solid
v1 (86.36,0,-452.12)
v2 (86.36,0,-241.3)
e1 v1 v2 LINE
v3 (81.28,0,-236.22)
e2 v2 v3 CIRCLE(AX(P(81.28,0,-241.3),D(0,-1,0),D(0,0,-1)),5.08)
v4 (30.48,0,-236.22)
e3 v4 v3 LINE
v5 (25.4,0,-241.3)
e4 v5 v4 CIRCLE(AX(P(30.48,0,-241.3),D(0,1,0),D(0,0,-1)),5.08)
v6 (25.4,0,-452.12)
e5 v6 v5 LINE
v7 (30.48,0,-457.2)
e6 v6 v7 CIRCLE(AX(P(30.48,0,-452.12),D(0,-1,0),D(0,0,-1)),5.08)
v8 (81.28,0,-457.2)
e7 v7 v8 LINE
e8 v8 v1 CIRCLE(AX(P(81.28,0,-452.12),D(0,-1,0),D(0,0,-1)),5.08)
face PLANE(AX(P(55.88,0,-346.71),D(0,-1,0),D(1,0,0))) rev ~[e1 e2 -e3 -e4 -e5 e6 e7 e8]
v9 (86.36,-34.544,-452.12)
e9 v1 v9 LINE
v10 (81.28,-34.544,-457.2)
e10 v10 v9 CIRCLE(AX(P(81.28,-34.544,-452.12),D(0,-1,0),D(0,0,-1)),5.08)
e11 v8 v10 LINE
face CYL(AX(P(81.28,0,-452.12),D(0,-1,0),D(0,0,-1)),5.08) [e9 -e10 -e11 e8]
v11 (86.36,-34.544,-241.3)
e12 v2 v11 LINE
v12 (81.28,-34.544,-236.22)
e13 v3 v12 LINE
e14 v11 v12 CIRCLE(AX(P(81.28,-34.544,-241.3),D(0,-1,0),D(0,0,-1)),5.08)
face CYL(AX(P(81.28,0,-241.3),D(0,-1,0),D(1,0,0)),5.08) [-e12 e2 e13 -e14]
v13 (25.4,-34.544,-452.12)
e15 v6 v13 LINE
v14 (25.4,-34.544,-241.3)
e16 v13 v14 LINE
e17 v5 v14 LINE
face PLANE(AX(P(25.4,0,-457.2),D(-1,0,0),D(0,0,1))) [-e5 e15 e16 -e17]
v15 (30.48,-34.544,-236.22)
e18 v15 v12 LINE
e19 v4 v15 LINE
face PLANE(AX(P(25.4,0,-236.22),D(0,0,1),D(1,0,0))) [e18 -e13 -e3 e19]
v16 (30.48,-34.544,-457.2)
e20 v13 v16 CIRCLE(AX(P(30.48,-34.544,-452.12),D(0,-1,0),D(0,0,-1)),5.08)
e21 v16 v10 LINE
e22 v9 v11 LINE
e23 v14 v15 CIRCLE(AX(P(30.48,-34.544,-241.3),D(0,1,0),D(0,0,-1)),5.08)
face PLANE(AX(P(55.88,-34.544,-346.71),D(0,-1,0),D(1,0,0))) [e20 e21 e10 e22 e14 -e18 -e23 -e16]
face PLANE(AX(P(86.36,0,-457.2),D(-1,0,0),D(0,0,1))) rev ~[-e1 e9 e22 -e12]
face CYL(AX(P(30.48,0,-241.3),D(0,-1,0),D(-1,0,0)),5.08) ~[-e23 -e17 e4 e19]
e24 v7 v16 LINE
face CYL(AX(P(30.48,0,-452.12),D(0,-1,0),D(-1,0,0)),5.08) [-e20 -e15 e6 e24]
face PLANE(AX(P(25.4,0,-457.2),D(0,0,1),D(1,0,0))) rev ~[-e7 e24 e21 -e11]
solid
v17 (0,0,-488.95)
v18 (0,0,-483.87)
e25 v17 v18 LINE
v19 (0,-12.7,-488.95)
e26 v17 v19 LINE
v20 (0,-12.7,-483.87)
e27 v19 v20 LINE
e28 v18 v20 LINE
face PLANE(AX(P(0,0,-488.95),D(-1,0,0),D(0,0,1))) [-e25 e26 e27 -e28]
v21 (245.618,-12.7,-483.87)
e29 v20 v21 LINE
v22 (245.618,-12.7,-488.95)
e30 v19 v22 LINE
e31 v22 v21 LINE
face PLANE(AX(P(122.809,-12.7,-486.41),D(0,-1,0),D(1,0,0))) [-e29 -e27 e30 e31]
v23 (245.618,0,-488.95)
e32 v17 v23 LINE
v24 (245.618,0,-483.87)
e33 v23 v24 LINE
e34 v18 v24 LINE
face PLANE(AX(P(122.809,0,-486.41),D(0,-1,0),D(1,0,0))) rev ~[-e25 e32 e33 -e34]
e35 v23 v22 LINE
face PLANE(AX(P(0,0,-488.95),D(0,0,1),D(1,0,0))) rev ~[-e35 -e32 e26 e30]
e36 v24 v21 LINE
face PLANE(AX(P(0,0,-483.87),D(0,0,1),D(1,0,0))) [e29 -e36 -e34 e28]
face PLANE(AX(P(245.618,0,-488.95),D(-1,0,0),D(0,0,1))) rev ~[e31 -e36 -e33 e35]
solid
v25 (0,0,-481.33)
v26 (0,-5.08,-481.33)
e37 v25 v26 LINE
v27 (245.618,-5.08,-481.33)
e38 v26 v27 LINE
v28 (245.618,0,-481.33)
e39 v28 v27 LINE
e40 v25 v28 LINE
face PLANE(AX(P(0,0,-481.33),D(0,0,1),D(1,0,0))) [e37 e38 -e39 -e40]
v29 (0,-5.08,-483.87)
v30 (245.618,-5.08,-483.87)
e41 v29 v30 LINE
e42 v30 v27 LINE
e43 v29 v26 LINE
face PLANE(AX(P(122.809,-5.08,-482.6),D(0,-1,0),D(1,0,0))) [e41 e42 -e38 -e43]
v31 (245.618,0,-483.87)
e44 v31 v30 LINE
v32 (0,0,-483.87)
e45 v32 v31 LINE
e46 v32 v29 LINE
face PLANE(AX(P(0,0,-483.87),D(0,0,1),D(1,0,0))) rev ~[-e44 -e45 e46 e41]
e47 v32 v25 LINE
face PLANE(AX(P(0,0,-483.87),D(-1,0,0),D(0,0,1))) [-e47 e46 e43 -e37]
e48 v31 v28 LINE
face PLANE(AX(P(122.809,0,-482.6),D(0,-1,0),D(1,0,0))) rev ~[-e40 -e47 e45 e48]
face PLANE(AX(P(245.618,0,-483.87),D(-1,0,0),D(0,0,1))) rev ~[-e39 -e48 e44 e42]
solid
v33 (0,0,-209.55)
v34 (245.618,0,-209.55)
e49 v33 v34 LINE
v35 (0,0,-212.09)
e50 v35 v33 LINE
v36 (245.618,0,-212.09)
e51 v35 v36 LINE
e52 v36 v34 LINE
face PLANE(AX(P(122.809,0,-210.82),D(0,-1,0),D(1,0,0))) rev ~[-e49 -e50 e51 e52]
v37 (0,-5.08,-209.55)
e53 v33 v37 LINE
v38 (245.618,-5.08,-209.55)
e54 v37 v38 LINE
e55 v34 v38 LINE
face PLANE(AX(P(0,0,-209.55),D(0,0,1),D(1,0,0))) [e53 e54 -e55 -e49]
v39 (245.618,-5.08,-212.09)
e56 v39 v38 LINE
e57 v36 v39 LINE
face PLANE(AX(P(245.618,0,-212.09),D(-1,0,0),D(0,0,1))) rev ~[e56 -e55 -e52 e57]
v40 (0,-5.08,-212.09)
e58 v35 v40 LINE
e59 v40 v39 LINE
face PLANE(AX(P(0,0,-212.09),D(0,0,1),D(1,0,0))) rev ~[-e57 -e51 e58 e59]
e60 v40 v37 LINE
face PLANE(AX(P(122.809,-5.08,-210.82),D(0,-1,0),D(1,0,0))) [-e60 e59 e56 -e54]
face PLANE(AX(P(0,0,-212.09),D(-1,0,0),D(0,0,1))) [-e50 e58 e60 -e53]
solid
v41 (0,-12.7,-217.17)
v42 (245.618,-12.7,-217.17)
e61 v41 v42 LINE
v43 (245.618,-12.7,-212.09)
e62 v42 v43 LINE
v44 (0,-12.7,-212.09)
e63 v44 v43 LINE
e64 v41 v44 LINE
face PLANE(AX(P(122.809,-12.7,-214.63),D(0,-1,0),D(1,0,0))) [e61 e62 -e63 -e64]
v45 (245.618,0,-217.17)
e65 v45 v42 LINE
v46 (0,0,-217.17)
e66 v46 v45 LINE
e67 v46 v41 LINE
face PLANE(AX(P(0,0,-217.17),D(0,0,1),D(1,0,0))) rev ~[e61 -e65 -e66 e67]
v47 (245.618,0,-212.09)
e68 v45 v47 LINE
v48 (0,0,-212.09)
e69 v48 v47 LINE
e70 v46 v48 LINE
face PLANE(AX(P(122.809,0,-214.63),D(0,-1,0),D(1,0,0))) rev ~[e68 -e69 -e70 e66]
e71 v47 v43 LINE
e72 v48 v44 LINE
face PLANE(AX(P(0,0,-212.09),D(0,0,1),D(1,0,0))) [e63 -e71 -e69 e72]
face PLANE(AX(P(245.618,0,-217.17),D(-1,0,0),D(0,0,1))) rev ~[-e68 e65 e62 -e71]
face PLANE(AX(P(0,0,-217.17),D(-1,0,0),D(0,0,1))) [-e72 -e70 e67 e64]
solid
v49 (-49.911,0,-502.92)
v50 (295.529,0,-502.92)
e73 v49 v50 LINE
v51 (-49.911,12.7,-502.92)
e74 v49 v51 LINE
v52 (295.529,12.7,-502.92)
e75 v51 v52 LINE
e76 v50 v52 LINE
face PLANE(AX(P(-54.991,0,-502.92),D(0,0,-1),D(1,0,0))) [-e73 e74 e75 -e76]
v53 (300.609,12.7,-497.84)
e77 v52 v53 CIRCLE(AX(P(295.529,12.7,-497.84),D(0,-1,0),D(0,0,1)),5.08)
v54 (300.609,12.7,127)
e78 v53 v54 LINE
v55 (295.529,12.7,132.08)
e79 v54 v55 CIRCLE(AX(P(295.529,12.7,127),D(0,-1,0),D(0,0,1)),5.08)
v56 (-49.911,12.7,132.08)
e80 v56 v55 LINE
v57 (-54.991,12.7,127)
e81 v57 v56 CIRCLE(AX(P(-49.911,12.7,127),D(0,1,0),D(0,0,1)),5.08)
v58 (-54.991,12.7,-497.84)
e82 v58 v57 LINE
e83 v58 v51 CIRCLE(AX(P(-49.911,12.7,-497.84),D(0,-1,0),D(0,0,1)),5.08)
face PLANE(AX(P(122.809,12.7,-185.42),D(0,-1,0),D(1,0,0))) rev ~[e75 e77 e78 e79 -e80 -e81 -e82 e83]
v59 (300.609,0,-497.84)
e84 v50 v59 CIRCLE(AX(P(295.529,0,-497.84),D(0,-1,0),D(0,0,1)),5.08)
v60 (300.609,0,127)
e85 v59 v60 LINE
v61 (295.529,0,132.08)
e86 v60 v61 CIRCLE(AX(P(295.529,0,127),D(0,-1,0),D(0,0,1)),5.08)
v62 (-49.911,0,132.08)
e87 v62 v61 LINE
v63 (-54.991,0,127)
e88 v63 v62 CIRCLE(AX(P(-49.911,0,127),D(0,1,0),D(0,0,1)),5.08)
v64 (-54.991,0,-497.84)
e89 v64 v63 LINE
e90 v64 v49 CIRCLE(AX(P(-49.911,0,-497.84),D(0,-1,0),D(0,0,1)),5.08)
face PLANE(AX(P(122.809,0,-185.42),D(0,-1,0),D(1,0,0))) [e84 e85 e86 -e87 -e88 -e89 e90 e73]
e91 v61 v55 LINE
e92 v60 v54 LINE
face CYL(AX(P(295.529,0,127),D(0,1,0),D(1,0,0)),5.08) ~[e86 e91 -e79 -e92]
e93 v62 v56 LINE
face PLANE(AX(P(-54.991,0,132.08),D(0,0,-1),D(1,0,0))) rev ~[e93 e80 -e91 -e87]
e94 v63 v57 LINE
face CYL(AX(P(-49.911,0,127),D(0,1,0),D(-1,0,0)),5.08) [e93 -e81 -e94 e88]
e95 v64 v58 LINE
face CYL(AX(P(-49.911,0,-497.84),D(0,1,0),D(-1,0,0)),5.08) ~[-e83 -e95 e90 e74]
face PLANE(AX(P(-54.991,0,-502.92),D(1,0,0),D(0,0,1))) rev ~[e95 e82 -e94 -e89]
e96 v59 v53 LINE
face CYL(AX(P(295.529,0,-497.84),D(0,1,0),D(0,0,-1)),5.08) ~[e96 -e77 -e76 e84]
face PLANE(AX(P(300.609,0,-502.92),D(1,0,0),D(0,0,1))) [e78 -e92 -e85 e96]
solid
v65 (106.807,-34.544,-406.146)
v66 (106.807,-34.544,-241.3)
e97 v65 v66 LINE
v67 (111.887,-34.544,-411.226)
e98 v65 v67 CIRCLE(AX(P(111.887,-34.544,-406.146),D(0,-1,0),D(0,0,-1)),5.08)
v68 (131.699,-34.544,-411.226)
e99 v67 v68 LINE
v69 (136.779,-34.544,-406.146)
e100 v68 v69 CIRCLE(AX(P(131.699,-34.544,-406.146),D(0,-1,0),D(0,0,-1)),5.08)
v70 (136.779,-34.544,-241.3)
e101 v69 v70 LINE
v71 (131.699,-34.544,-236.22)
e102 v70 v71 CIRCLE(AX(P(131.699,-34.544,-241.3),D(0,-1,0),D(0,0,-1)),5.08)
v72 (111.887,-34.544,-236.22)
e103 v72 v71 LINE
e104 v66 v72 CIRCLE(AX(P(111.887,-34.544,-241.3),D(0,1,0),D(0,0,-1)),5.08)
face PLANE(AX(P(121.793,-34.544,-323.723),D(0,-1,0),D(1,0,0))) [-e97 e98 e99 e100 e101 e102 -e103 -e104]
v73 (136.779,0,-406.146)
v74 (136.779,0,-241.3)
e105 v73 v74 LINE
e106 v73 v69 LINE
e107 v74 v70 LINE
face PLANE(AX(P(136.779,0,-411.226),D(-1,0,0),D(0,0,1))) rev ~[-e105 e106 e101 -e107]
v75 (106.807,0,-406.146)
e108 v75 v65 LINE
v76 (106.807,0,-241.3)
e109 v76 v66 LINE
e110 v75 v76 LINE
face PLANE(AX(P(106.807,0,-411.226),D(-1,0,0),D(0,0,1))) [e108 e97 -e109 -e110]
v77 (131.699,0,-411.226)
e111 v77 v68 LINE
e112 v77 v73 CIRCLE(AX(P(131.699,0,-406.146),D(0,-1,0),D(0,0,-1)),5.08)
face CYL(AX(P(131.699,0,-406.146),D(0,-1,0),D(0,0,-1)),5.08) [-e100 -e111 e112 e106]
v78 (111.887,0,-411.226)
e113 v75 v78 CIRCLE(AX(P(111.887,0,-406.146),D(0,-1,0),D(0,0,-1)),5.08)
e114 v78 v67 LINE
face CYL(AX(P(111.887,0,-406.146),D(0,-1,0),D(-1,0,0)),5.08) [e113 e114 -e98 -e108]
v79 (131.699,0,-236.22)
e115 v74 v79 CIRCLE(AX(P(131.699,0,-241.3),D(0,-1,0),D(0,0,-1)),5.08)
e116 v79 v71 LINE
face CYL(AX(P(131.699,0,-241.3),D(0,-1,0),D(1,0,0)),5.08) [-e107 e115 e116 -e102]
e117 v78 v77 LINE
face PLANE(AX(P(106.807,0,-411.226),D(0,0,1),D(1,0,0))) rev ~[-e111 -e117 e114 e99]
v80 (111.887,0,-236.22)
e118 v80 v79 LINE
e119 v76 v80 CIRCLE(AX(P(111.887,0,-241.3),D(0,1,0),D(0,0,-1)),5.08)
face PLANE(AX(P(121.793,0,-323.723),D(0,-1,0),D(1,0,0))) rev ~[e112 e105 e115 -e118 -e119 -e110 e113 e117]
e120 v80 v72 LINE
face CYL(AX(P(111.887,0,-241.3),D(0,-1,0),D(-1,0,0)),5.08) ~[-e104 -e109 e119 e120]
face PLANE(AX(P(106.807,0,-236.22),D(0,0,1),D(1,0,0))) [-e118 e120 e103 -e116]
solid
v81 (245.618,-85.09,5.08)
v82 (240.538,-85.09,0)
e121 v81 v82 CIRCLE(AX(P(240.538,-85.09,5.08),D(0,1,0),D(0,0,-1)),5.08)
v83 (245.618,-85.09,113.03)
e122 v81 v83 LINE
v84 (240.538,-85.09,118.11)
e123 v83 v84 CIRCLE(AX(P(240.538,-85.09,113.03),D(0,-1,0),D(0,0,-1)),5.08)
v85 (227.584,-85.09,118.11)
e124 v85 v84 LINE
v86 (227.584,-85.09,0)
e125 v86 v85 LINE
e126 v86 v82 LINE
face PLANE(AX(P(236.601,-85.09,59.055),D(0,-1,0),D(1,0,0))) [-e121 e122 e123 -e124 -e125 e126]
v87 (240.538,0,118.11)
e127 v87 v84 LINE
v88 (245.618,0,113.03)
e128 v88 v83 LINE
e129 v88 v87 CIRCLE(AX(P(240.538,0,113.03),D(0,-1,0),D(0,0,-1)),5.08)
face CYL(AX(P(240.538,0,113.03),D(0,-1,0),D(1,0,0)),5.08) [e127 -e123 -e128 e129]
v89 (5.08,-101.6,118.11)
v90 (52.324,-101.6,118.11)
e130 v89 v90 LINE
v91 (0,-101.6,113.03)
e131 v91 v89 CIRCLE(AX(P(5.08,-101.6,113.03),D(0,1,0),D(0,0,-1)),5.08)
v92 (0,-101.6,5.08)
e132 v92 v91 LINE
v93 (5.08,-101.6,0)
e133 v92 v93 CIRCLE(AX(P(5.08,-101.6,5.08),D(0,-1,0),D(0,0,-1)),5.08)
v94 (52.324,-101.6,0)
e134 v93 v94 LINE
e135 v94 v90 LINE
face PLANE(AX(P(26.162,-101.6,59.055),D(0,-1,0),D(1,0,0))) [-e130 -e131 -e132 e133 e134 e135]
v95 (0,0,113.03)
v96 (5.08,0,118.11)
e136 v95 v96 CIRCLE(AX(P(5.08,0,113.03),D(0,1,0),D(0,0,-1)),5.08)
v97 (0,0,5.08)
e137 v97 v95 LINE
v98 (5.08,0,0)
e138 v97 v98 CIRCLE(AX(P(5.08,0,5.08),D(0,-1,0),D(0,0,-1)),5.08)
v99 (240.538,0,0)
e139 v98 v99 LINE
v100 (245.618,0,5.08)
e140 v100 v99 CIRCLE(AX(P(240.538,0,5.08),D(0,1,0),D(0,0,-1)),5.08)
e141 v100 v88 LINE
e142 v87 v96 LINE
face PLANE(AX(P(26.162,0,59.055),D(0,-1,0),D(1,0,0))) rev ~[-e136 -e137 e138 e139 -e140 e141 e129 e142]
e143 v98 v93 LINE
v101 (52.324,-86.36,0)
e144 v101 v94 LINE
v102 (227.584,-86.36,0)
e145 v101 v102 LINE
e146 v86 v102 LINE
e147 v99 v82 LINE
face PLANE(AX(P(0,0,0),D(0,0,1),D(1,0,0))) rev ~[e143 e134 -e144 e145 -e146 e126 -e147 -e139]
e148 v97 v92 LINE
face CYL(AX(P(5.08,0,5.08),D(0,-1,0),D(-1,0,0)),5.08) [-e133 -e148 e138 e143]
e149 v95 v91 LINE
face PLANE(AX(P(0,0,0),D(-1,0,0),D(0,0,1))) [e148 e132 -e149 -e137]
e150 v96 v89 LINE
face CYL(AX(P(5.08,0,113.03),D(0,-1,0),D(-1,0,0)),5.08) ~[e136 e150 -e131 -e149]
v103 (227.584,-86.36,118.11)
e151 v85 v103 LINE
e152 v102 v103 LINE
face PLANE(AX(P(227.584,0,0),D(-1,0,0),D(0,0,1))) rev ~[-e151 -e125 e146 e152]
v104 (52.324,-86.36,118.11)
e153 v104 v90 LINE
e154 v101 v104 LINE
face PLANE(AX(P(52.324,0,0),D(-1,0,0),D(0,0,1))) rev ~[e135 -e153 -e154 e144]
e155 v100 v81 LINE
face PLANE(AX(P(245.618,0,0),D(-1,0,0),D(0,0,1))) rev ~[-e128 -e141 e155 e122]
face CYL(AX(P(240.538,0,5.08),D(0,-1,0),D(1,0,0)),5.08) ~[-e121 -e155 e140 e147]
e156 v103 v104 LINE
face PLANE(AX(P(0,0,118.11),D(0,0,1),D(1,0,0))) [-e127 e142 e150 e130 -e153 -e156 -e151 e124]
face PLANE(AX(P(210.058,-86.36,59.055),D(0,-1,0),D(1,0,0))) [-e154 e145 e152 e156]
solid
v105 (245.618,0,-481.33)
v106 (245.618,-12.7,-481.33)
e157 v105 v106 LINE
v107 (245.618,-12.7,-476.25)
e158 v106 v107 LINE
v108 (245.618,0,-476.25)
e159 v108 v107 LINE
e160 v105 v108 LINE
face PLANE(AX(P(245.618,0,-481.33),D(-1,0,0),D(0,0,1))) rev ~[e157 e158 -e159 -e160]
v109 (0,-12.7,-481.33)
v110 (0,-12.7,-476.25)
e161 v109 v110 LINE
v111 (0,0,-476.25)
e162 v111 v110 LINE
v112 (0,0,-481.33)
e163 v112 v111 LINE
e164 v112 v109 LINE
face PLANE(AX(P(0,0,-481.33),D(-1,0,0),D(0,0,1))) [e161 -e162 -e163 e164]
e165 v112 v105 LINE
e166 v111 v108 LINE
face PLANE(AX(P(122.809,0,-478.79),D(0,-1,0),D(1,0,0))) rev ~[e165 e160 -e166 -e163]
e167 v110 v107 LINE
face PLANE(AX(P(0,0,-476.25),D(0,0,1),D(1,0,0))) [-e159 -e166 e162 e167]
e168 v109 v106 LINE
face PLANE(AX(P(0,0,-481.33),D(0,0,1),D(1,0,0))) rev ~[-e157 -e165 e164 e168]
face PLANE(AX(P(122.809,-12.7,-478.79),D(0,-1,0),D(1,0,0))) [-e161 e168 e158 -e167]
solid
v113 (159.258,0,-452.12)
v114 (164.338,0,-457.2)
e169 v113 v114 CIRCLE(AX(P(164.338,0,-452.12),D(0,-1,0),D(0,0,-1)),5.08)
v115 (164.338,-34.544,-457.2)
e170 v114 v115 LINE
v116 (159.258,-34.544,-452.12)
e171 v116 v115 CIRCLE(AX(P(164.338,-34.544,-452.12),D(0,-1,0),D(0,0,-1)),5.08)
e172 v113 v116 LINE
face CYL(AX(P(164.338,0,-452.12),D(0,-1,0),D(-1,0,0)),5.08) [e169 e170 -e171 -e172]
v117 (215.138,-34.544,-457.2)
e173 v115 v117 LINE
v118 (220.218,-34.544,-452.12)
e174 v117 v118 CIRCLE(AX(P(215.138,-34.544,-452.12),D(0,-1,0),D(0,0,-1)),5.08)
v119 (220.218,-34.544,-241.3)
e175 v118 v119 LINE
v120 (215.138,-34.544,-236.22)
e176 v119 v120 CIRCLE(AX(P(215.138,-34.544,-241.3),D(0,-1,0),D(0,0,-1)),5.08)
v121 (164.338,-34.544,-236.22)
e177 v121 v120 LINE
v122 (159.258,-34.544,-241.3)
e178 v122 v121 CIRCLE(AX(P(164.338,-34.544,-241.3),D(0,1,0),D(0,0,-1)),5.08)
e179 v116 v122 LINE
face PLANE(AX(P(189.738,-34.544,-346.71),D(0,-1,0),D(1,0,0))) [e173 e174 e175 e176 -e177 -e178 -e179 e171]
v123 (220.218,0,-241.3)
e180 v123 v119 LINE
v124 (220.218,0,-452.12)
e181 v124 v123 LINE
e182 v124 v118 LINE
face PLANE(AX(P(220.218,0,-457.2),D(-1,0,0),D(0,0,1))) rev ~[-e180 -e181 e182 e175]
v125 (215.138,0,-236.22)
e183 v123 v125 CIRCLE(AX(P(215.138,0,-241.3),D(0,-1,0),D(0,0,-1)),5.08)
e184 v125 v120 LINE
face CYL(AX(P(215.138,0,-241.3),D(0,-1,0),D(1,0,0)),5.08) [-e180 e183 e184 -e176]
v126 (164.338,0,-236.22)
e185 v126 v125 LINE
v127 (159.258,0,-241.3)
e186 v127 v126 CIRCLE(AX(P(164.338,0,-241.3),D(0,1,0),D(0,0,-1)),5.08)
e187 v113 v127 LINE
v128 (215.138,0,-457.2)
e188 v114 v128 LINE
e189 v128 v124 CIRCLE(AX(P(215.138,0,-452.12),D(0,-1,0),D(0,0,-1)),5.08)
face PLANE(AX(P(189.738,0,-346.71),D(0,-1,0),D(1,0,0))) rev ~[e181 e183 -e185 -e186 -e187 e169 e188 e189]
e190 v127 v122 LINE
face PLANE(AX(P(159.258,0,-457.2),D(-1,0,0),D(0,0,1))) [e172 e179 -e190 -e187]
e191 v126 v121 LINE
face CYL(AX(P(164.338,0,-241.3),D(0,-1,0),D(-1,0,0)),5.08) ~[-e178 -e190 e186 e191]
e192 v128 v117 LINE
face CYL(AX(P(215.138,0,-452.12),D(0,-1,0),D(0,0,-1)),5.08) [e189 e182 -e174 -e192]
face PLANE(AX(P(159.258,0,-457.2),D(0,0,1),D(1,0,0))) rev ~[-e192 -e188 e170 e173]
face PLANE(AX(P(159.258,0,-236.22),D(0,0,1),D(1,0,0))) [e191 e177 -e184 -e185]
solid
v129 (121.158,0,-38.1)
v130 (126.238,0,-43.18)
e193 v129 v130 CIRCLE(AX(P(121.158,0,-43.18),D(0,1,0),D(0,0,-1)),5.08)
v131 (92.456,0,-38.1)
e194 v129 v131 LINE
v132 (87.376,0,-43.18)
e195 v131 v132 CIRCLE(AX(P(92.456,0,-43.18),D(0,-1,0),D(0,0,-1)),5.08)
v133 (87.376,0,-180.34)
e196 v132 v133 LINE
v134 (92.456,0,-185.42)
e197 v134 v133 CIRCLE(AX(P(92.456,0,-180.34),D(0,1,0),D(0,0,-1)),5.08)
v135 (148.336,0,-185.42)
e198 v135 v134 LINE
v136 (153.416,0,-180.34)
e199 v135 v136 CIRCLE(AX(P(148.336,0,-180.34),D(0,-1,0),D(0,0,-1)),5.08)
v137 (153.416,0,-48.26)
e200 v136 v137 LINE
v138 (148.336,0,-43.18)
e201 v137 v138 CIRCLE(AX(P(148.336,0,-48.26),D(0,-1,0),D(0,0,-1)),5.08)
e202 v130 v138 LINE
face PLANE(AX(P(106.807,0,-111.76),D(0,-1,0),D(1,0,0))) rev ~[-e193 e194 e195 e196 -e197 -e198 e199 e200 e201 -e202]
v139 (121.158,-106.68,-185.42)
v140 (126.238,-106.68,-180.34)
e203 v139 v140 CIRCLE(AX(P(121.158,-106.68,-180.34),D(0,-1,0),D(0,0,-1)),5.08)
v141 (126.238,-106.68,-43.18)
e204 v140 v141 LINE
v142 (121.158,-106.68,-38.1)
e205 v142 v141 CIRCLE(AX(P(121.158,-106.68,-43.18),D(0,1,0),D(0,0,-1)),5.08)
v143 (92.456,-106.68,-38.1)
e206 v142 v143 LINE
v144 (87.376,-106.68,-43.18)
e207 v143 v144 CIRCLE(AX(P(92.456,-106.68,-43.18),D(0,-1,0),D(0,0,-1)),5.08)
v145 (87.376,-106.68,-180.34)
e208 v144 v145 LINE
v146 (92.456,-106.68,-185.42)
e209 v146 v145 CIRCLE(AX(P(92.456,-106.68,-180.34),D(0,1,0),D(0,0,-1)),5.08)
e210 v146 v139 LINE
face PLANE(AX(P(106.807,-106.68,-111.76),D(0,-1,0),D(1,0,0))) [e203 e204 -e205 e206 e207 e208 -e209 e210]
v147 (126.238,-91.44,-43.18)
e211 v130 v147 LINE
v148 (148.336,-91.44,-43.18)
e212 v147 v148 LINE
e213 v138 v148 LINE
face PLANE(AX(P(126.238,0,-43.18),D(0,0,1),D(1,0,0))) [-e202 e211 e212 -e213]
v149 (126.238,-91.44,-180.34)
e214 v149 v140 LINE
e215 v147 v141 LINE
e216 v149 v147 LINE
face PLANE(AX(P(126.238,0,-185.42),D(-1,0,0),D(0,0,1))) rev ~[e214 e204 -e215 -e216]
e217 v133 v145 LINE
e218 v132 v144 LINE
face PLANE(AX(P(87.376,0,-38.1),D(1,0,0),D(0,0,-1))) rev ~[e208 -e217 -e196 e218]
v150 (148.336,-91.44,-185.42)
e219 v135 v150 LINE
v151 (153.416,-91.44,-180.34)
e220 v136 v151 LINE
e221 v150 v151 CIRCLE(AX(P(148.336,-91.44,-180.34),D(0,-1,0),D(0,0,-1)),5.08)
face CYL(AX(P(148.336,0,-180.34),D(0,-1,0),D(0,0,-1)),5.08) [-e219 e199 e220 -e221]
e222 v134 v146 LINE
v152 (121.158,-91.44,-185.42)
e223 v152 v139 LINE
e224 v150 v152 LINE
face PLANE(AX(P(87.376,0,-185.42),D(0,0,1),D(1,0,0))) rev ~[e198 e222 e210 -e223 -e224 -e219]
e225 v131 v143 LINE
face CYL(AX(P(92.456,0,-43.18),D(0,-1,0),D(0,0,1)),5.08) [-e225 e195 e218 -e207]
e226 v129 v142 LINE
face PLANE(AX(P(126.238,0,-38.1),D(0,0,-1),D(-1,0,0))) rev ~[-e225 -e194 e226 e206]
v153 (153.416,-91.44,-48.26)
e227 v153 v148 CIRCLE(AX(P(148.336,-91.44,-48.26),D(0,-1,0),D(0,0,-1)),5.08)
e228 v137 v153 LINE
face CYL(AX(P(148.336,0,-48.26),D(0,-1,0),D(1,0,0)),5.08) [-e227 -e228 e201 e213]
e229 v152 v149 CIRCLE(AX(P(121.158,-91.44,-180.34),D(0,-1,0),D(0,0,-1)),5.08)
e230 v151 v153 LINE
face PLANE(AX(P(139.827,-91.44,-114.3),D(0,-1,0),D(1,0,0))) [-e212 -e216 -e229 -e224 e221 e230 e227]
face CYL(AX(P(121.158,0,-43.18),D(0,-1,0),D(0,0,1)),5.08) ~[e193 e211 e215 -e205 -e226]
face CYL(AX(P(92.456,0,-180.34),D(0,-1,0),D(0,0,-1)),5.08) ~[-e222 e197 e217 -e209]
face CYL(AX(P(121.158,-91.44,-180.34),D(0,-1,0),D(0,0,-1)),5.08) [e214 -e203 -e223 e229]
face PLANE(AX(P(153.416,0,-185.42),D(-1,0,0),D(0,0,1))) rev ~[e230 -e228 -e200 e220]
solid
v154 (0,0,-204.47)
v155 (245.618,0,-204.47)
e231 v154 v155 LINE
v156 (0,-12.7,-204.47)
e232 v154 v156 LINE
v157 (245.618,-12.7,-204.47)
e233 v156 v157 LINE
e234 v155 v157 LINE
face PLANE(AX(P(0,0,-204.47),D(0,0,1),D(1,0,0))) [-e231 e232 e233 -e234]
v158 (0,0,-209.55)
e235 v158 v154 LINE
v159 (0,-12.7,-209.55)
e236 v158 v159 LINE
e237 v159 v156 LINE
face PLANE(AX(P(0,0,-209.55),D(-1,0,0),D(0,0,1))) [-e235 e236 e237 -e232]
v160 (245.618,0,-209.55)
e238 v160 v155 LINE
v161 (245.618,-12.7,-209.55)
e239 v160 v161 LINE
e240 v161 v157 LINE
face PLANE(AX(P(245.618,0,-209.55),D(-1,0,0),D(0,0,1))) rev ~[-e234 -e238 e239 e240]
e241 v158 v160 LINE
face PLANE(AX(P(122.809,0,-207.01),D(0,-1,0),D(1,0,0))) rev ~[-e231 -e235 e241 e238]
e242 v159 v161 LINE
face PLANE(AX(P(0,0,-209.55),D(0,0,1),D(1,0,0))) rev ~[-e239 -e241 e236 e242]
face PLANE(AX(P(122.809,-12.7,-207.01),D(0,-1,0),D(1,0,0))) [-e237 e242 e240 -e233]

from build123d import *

# Parameters (mm, degrees)
F0_W      = 18.034
F0_H      = 118.11
F1_DEPTH  = 85.09
F0_W_2    = 35.052
F0_W_3    = 70.104
F2_DEPTH  = 86.36
F0_W_4    = 52.324
F3_DEPTH  = 101.6
F0_W_5    = 27.178
F0_H_2    = 142.24
F4_DEPTH  = 91.44
F5_DEPTH  = 106.68
F0_W_6    = 60.96
F0_H_3    = 220.98
F0_W_7    = 29.972
F0_H_4    = 175.006
F6_DEPTH  = 34.544
F7_W      = 245.618
F7_H      = 5.08
F8_DEPTH  = 12.7
F7_H_2    = 2.54
F9_DEPTH  = 5.08
F10_W     = 355.6
F10_H     = 635
F11_DEPTH = 12.7
F12_R     = 5.08
F13_R     = 5.08
F13_2_R   = 5.08
F14_R     = 5.08
F15_R     = 5.08


with BuildPart() as f1:
    # F0 (on Front) → F1 (new body)
    with BuildSketch(Plane.XZ):
        with Locations((236.601, 59.055)):
            Rectangle(F0_W, F0_H)
    extrude(amount=F1_DEPTH)

    # F0 (on Front) → F2 (join)
    with BuildSketch(Plane.XZ):
        with Locations((210.058, 59.055)):
            Rectangle(F0_W_2, F0_H)
        with Locations((175.006, 59.055)):
            Rectangle(F0_W_2, F0_H)
        with Locations((122.428, 59.055)):
            Rectangle(F0_W_3, F0_H)
        with Locations((69.85, 59.055)):
            Rectangle(F0_W_2, F0_H)
    extrude(amount=F2_DEPTH)

    # F0 (on Front) → F3 (join)
    with BuildSketch(Plane.XZ):
        with Locations((26.162, 59.055)):
            Rectangle(F0_W_4, F0_H)
    extrude(amount=F3_DEPTH)

    # F14
    f14_edges = [f1.edges().sort_by_distance(p)[0] for p in [
        (0, -50.8, 118.11),
        (0, -50.8, 0),
        (245.618, -42.545, 118.11),
        (245.618, -42.545, 0),
    ]]
    fillet(f14_edges, radius=F14_R)


with BuildPart() as f4:
    # F0 (on Front) → F4 (new body)
    with BuildSketch(Plane.XZ):
        with Locations((139.827, -114.3)):
            Rectangle(F0_W_5, F0_H_2)
    extrude(amount=F4_DEPTH)

    # F0 (on Front) → F5 (join)
    with BuildSketch(Plane.XZ):
        Polygon((126.238, -38.1), (87.376, -38.1), (87.376, -185.42), (126.238, -185.42), (126.238, -43.18), align=None)
    extrude(amount=F5_DEPTH)

    # F13#2
    f13_2_edges = [f4.edges().sort_by_distance(p)[0] for p in [
        (87.376, -53.34, -185.42),
        (87.376, -53.34, -38.1),
        (153.416, -45.72, -43.18),
        (126.238, -53.34, -38.1),
        (153.416, -45.72, -185.42),
        (126.238, -99.06, -185.42),
    ]]
    fillet(f13_2_edges, radius=F13_2_R)


with BuildPart() as f6:
    # F0 (on Front) → F6 (new body)
    with BuildSketch(Plane.XZ):
        with Locations((55.88, -346.71)):
            Rectangle(F0_W_6, F0_H_3)
        with Locations((189.738, -346.71)):
            Rectangle(F0_W_6, F0_H_3)
        with Locations((121.793, -323.723)):
            Rectangle(F0_W_7, F0_H_4)
    extrude(amount=F6_DEPTH)

    # F12
    f12_edges = [f6.edges().sort_by_distance(p)[0] for p in [
        (86.36, -17.272, -236.22),
        (136.779, -17.272, -236.22),
        (220.218, -17.272, -236.22),
        (159.258, -17.272, -236.22),
        (25.4, -17.272, -236.22),
        (25.4, -17.272, -457.2),
        (106.807, -17.272, -411.226),
        (159.258, -17.272, -457.2),
        (86.36, -17.272, -457.2),
        (136.779, -17.272, -411.226),
        (220.218, -17.272, -457.2),
    ]]
    fillet(f12_edges, radius=F12_R)

    # F13
    f13_edges = [f6.edges().sort_by_distance(p)[0] for p in [
        (106.807, -17.272, -236.22),
    ]]
    fillet(f13_edges, radius=F13_R)


with BuildPart() as f8:
    # F7 (on Front) → F8 (new body)
    with BuildSketch(Plane.XZ):
        with Locations((122.809, -207.01)):
            Rectangle(F7_W, F7_H)
        with Locations((122.809, -214.63)):
            Rectangle(F7_W, F7_H)
        with Locations((122.809, -486.41)):
            Rectangle(F7_W, F7_H)
        with Locations((122.809, -478.79)):
            Rectangle(F7_W, F7_H)
    extrude(amount=F8_DEPTH)


with BuildPart() as f9:
    # F7 (on Front) → F9 (new body)
    with BuildSketch(Plane.XZ):
        with Locations((122.809, -210.82)):
            Rectangle(F7_W, F7_H_2)
        with Locations((122.809, -482.6)):
            Rectangle(F7_W, F7_H_2)
    extrude(amount=F9_DEPTH)


with BuildPart() as f11:
    # F10 (on Front) → F11 (new body)
    with BuildSketch(Plane.XZ):
        with Locations((122.809, -185.42)):
            Rectangle(F10_W, F10_H)
    extrude(amount=-F11_DEPTH)

    # F15
    f15_edges = [f11.edges().sort_by_distance(p)[0] for p in [
        (-54.991, 6.35, 132.08),
        (300.609, 6.35, 132.08),
        (300.609, 6.35, -502.92),
        (-54.991, 6.35, -502.92),
    ]]
    fillet(f15_edges, radius=F15_R)


solid = Compound([f1.part, f4.part, f6.part, f8.part, f9.part, f11.part])
